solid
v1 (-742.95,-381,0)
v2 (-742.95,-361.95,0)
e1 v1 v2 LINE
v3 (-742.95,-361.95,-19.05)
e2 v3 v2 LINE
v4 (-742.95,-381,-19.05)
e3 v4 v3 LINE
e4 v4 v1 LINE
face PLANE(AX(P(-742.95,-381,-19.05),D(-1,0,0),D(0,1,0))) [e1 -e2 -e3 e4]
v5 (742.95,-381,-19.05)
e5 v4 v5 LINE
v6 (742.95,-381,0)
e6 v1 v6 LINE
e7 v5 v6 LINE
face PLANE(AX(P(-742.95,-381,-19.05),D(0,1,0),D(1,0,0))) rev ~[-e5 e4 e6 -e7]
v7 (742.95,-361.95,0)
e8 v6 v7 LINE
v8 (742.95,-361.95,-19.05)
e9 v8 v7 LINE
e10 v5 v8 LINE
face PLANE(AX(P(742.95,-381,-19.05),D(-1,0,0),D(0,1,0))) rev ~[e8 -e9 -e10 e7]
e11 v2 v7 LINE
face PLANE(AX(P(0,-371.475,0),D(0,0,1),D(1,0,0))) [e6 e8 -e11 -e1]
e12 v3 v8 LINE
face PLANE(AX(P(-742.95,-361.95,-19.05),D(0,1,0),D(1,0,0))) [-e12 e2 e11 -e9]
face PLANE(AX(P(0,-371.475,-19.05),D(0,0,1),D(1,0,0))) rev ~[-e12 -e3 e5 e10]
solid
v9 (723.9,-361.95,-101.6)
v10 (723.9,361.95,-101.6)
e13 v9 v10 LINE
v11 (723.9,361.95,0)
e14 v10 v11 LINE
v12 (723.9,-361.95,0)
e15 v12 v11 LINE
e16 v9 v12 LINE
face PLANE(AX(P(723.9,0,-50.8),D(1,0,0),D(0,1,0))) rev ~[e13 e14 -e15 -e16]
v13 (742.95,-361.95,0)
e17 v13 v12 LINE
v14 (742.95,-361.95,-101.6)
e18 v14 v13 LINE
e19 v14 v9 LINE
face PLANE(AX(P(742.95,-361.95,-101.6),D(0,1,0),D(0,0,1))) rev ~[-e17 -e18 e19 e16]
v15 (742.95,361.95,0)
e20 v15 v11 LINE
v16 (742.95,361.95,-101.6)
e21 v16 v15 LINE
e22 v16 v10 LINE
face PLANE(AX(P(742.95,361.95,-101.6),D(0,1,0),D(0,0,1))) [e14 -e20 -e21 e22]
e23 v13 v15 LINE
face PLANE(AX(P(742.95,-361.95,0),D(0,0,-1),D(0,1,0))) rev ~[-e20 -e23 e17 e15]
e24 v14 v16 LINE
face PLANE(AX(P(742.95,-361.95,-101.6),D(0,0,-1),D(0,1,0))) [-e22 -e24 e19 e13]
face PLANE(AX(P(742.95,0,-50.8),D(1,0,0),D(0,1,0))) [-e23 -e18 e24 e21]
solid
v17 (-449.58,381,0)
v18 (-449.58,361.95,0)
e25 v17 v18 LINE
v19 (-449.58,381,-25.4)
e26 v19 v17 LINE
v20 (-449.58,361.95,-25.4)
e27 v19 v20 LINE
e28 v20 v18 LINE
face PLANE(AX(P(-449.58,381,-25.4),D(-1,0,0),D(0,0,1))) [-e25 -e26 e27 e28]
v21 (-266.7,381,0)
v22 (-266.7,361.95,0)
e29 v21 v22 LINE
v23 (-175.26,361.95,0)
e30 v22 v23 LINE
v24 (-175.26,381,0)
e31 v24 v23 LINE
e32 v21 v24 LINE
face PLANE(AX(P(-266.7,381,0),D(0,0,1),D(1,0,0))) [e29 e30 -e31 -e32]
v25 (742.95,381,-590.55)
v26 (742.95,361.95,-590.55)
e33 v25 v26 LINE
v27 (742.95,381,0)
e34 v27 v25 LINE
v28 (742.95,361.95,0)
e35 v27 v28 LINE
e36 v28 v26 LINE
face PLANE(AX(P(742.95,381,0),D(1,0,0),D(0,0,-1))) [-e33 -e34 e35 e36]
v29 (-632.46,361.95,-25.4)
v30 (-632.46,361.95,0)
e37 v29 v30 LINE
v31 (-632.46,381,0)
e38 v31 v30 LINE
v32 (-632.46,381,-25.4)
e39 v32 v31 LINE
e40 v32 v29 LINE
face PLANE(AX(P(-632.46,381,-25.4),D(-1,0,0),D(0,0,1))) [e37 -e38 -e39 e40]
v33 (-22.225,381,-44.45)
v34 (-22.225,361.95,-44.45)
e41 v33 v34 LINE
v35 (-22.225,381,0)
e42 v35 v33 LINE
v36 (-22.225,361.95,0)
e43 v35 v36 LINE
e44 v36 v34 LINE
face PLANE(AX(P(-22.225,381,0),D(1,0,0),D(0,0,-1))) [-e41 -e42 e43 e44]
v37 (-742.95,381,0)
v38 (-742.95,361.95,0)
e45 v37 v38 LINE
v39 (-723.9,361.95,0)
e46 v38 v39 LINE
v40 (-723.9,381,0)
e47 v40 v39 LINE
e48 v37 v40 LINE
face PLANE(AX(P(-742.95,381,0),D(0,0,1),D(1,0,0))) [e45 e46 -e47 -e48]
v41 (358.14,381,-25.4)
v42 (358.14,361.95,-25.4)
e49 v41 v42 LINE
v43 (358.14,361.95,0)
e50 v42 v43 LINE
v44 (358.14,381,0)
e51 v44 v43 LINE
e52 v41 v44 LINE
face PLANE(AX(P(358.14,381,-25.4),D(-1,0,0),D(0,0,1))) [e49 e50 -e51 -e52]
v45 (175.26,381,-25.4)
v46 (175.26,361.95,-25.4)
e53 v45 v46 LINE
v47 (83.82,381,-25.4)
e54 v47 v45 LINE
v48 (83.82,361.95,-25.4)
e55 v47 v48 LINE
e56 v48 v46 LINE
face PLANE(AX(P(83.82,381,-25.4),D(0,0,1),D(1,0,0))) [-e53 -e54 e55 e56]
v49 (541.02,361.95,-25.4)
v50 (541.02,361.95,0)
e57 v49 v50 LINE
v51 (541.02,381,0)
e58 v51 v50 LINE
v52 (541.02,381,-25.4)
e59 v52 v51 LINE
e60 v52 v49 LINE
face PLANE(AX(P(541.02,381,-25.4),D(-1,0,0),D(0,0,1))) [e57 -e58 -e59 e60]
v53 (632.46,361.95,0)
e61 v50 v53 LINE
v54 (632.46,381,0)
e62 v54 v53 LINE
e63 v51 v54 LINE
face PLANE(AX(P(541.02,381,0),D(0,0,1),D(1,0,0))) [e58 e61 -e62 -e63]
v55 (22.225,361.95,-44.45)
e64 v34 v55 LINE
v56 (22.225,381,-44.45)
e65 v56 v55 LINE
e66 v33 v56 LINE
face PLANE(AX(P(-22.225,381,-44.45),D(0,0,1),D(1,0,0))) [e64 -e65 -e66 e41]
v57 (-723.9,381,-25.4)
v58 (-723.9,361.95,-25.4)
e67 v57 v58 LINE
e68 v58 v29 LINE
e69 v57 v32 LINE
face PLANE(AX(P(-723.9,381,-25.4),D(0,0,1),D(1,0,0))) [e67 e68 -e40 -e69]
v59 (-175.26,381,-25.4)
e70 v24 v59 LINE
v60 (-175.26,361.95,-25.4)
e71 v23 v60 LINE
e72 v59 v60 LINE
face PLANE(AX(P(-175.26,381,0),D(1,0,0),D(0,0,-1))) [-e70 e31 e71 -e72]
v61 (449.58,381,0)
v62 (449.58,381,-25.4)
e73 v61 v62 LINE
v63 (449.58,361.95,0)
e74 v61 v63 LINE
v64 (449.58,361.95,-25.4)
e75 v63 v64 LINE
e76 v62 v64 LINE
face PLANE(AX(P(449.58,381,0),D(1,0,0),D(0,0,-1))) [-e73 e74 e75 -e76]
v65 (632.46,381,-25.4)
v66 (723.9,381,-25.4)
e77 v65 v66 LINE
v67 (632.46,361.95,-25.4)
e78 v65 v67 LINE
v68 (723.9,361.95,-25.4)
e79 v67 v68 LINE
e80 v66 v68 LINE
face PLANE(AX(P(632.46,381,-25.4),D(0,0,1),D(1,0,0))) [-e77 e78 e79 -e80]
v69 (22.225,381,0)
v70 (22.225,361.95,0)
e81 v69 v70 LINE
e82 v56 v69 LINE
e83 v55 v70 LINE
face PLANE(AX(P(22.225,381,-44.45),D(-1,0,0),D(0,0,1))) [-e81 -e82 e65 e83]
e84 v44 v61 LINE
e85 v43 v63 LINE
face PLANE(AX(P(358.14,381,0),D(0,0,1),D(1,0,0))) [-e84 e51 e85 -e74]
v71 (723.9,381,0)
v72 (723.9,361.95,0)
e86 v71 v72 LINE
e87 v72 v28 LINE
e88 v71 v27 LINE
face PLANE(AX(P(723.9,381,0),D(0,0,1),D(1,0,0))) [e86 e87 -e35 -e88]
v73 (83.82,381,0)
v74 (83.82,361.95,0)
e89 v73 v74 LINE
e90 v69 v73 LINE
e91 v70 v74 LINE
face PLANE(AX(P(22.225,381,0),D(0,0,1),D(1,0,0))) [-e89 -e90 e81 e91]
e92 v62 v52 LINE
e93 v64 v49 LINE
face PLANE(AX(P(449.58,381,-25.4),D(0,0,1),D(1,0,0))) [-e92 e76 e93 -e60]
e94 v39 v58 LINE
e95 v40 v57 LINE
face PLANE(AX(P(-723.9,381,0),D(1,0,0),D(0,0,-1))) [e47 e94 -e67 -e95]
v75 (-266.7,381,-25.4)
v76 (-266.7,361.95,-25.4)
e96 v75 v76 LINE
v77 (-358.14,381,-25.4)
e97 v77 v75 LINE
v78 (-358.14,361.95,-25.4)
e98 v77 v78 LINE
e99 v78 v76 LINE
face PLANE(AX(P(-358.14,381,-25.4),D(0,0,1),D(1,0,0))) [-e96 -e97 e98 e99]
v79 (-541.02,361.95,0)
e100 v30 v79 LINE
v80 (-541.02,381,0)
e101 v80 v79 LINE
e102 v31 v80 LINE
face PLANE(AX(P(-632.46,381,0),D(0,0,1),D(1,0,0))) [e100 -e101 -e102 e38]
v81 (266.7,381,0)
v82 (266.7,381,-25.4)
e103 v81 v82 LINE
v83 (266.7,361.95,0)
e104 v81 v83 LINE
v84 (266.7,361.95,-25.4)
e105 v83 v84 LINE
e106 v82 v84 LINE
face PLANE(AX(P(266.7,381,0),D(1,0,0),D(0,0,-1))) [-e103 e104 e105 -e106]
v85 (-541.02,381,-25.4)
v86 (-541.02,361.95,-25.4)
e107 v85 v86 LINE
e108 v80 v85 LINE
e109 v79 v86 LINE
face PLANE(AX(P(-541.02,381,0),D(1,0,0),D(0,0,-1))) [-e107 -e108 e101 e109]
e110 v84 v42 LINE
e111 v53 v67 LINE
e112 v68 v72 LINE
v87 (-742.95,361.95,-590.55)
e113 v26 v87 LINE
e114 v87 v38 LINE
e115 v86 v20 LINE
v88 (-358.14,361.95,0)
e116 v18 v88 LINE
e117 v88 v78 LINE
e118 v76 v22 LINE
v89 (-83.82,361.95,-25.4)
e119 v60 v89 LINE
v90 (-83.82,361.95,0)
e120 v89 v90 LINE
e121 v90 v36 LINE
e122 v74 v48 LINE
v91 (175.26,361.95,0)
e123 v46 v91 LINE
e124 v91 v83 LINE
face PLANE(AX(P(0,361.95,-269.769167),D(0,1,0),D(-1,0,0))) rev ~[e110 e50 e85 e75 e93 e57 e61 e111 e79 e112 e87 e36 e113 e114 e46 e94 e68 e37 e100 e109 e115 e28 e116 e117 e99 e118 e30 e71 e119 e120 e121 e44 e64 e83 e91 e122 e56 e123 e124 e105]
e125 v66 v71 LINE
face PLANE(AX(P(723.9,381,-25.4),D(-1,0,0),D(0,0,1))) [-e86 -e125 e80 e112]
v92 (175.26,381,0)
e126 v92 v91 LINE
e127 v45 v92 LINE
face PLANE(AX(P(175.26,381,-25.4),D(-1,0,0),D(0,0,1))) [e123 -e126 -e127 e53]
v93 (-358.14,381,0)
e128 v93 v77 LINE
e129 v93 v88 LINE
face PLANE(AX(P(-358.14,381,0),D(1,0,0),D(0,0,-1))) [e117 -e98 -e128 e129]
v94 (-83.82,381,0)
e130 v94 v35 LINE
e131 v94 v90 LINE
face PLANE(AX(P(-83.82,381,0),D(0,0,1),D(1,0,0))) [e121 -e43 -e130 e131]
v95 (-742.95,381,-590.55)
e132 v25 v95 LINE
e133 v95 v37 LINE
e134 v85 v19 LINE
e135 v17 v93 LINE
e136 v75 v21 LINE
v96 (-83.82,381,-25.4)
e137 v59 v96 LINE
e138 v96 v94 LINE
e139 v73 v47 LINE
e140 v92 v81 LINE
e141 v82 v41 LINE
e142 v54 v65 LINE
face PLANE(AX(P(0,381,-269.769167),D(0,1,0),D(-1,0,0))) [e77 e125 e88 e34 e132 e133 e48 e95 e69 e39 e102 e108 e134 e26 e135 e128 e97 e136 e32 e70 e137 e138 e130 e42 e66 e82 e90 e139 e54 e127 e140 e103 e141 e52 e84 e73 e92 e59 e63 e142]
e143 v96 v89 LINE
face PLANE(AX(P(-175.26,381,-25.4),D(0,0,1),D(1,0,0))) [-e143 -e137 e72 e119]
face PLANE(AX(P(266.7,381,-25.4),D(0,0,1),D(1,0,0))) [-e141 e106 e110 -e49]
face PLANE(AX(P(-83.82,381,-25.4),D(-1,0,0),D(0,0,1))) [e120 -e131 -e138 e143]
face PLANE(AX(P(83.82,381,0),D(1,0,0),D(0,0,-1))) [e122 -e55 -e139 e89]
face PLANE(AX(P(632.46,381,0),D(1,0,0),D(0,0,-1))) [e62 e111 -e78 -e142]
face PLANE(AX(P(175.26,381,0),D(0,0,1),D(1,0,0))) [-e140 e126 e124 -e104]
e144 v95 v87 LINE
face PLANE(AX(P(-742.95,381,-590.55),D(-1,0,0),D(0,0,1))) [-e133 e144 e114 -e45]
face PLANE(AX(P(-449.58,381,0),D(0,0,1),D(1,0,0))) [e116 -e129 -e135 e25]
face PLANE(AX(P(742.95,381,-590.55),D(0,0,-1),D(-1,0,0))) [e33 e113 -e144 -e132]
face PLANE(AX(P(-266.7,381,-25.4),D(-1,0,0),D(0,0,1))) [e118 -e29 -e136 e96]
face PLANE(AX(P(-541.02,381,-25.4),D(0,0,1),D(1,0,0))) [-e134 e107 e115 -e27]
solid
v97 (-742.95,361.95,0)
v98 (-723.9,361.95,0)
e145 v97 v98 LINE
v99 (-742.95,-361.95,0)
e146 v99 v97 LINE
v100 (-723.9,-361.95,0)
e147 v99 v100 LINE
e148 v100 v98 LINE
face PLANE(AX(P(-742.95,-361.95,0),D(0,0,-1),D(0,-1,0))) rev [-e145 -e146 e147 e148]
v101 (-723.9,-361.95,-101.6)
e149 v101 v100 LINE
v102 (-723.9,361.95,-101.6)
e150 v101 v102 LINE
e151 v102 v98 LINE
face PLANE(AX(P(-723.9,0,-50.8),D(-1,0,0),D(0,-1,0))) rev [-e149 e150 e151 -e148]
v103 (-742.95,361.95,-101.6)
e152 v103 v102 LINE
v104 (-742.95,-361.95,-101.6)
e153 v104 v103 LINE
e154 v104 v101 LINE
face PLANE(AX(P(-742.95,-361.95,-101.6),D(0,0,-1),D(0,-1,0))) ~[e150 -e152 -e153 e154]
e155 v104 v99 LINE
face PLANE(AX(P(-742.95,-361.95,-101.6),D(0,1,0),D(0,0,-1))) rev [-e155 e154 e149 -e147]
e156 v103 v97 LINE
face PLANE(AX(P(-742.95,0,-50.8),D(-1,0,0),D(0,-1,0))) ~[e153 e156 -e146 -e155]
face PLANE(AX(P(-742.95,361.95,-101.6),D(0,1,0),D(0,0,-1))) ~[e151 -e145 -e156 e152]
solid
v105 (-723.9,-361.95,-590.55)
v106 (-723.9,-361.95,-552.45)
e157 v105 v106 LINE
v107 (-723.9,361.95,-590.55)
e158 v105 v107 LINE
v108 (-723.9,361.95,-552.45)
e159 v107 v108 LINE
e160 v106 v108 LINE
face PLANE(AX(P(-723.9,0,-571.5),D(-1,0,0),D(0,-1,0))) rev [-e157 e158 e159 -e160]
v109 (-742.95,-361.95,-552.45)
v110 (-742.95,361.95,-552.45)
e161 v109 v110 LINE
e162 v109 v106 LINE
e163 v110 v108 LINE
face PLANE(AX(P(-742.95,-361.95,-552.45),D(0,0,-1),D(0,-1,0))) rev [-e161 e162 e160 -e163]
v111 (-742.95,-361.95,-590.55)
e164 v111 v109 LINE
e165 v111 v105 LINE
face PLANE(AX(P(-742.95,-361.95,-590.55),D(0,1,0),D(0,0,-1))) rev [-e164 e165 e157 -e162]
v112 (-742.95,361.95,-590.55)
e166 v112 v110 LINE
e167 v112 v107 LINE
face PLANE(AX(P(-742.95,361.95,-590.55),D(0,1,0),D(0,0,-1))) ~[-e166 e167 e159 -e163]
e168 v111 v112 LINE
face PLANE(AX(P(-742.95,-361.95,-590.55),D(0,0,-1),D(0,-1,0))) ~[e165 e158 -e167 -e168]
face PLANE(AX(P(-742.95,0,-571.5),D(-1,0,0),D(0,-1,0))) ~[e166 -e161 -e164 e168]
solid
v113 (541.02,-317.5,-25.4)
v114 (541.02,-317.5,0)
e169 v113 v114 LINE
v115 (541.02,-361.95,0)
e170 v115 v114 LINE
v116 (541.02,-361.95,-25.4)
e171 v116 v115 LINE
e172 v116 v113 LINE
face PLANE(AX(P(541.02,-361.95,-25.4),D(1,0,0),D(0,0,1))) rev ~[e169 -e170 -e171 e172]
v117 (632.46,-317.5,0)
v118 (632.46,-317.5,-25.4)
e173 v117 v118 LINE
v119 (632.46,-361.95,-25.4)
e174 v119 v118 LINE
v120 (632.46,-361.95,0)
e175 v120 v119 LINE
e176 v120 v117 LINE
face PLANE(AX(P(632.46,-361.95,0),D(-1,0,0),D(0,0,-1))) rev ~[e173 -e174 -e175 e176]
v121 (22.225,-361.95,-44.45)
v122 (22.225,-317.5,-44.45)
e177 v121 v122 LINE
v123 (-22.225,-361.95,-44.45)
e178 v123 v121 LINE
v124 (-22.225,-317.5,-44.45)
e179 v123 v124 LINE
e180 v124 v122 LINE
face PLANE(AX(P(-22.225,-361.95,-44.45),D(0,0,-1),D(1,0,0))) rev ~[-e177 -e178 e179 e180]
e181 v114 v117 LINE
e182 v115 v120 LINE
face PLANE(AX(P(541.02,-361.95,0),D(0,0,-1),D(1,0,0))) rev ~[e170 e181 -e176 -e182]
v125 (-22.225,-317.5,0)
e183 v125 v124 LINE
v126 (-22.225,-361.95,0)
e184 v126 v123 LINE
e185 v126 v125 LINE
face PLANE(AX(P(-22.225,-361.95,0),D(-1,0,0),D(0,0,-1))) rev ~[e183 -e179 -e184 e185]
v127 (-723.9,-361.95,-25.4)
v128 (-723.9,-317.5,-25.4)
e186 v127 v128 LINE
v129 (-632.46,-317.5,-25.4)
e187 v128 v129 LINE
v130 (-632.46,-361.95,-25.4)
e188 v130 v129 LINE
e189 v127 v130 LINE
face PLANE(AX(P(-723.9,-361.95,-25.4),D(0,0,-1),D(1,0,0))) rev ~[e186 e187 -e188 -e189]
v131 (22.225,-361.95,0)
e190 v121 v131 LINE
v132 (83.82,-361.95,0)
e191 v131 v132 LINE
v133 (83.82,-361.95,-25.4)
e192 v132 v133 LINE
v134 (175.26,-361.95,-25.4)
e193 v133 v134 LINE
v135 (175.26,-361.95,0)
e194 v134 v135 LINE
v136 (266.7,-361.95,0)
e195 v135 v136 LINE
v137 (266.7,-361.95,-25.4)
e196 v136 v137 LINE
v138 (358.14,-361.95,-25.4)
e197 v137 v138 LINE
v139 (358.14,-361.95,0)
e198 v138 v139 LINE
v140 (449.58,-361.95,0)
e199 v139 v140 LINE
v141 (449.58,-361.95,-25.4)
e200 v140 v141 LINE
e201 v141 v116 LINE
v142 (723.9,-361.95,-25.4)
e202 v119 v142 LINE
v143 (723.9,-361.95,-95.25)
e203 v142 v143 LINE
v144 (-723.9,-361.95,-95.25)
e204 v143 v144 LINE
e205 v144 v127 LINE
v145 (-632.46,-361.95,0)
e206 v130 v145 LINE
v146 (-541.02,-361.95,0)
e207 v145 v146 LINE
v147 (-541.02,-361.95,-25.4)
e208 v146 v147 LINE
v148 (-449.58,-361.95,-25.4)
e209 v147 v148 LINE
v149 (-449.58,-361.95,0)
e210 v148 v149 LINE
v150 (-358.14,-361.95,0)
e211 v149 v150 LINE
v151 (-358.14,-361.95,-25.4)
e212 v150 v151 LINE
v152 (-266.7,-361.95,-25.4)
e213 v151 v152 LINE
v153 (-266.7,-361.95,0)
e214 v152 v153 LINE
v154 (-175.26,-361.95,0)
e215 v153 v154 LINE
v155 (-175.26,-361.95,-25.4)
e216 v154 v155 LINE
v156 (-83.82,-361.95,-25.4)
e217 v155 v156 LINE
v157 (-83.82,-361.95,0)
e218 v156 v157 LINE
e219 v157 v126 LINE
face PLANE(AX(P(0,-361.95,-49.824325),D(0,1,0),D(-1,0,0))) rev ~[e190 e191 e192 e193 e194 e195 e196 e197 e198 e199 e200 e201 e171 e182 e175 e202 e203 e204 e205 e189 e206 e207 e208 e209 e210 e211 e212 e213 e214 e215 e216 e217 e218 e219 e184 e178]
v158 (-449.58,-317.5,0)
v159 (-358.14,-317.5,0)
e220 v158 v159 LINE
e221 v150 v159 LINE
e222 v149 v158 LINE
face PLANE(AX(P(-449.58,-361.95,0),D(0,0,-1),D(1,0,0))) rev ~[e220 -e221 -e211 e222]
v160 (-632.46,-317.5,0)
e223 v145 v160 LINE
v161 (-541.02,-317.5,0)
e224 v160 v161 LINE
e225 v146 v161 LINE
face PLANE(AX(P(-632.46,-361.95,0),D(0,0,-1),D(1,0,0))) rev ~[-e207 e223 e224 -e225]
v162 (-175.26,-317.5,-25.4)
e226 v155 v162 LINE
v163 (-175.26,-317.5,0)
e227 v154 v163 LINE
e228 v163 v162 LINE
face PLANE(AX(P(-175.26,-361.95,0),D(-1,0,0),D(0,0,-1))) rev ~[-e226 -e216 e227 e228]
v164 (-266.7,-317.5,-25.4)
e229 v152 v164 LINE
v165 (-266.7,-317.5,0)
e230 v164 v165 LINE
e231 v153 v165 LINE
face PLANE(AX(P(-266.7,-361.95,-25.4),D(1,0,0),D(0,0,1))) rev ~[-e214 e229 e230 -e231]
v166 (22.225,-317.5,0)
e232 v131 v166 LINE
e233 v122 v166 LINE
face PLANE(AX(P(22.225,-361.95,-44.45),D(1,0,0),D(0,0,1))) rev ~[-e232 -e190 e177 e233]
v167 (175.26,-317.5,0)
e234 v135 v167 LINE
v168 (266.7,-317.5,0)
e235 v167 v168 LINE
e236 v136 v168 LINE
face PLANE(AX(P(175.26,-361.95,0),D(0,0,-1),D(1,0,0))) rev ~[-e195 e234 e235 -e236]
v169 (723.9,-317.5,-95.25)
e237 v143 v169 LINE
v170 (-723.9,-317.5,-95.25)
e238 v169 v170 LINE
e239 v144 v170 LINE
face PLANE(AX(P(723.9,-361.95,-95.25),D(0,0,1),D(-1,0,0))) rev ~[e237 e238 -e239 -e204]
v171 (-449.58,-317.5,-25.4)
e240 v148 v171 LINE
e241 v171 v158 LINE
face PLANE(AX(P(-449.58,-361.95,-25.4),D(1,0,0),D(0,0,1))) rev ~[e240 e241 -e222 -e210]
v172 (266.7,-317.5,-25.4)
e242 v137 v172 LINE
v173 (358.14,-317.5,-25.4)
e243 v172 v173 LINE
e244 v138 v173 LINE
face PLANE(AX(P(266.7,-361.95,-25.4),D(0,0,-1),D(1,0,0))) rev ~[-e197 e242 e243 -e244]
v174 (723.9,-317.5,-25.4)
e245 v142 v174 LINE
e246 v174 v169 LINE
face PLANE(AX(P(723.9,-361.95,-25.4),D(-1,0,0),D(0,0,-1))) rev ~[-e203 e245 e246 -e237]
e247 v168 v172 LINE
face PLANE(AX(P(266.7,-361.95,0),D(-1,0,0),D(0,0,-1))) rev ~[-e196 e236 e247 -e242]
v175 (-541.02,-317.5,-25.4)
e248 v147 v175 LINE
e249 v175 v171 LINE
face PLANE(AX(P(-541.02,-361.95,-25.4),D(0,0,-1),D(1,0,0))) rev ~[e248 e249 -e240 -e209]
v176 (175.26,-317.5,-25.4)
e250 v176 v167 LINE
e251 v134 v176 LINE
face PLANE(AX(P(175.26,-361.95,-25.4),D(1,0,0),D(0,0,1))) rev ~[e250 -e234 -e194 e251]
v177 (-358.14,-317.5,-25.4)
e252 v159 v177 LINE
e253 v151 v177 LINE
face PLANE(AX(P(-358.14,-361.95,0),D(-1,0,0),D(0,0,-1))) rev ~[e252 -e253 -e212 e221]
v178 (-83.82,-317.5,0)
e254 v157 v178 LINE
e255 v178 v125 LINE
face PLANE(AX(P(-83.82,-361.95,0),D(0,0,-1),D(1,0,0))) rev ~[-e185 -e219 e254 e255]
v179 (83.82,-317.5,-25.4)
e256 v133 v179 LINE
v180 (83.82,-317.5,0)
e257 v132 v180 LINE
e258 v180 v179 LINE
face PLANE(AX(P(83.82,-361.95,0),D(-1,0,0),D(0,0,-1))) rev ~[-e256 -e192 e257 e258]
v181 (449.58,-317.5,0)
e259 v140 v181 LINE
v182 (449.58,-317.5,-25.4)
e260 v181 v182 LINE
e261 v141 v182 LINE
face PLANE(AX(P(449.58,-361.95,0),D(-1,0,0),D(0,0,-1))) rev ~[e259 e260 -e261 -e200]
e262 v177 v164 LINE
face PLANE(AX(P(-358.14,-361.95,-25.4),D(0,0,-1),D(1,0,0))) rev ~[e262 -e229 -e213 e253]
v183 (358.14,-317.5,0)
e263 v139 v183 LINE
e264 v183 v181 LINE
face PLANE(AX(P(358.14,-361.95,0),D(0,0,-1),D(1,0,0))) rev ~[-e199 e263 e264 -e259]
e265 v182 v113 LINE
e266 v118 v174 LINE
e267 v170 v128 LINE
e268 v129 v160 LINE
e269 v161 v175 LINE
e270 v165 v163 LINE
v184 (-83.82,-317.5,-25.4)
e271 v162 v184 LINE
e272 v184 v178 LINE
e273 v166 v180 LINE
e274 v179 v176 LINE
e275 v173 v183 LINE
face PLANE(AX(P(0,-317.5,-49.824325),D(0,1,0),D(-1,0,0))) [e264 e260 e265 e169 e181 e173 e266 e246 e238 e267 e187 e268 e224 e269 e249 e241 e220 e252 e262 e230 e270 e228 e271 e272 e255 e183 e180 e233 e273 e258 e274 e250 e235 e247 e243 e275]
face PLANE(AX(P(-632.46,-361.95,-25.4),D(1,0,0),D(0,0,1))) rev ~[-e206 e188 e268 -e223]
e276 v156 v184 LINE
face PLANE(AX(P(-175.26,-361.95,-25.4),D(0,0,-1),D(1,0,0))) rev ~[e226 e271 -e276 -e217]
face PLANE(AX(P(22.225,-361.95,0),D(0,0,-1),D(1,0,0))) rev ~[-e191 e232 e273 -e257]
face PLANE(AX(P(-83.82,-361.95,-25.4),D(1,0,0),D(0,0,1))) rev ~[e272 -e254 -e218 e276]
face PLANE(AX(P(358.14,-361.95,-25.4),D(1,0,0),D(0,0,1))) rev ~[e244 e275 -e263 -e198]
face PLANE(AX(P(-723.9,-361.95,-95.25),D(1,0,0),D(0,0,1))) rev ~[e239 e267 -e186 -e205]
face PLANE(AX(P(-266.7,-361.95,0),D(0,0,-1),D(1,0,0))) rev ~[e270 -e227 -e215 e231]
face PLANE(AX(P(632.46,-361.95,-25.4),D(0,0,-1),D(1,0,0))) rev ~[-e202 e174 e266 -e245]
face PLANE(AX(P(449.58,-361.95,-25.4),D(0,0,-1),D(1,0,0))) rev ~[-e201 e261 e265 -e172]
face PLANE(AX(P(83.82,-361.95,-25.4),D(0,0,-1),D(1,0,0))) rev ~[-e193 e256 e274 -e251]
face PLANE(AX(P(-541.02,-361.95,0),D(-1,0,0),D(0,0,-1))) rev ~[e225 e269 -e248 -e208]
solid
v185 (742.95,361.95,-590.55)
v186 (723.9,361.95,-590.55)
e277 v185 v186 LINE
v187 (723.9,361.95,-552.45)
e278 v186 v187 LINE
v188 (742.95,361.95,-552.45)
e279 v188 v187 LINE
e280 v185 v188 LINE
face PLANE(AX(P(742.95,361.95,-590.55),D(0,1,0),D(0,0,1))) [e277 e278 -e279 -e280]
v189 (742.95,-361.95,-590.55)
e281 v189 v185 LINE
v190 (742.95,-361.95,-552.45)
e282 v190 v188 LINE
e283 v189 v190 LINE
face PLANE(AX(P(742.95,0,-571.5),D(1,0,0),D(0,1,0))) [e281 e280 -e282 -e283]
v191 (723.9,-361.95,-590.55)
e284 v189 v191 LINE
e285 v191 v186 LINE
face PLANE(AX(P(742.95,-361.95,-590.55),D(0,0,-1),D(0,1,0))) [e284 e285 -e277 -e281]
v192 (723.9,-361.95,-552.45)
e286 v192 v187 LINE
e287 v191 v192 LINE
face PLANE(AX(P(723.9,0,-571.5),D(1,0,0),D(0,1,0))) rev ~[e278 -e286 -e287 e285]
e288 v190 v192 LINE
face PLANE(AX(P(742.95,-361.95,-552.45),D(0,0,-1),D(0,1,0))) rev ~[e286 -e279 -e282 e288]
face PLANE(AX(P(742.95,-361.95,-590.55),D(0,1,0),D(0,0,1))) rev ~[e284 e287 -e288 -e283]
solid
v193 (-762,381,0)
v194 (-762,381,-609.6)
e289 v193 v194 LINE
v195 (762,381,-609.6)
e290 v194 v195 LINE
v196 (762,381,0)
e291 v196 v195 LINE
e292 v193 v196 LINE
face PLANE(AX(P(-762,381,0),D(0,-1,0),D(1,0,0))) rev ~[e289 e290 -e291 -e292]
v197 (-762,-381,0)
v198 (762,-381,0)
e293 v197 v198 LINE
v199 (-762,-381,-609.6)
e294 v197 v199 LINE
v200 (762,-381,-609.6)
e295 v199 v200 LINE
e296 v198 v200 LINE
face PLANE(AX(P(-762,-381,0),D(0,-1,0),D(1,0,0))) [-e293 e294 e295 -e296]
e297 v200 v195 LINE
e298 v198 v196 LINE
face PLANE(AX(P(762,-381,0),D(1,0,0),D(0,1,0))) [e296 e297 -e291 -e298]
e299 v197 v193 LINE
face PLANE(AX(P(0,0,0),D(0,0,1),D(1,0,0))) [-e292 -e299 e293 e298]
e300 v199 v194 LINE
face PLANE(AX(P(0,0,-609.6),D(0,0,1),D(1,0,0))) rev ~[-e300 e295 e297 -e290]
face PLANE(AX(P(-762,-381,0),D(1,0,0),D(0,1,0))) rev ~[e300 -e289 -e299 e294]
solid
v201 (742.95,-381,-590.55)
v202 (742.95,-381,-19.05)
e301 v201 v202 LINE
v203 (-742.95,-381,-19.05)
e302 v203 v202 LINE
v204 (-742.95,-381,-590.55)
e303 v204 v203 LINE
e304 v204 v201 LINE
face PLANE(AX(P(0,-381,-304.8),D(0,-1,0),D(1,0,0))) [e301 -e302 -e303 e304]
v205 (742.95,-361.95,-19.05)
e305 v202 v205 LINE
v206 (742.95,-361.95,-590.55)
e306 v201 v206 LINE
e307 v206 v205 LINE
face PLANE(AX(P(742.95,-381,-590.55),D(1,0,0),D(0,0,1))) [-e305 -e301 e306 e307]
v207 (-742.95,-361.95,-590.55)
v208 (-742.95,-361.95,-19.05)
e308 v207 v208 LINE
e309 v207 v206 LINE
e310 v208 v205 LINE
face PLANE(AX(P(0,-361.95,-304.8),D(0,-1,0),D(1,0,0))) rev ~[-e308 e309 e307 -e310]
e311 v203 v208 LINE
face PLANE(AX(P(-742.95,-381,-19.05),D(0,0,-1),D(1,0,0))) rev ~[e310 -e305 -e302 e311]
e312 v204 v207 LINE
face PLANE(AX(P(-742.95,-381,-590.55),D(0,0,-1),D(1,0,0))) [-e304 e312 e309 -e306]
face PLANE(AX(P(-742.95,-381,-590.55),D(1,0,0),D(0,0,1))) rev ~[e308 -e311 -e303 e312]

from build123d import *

# Parameters (mm, degrees)
F0_W      = 1524
F0_H      = 762
F1_DEPTH  = 609.6
F2_W      = 1485.9
F2_H      = 571.5
F3_DEPTH  = 19.05
F5_DEPTH  = 44.45
F7_DEPTH  = 19.05
F8_W      = 723.9
F8_H      = 101.6
F8_H_2    = 38.1
F9_DEPTH  = 19.05
F11_W     = 1485.9
F11_H     = 19.05
F12_DEPTH = 19.05


with BuildPart() as f1:
    # F0 (on Top) → F1 (new body)
    with BuildSketch(Plane.XY):
        Rectangle(F0_W, F0_H)
    extrude(amount=-F1_DEPTH)


with BuildPart() as f3:
    # F2 (on face) → F3 (new body)
    with BuildSketch(Plane.XZ.offset(381)):
        with Locations((0, -304.8)):
            Rectangle(F2_W, F2_H)
    extrude(amount=-F3_DEPTH)


with BuildPart() as f5:
    # F4 (on face) → F5 (new body)
    with BuildSketch(Plane(origin=(0, -361.95, 0), x_dir=(-1, 0, 0), z_dir=(0, 1, 0))):
        Polygon((-723.9, -25.4), (-723.9, -95.25), (723.9, -95.25), (723.9, -25.4), (632.46, -25.4), (632.46, 0), (541.02, 0), (541.02, -25.4), (449.58, -25.4), (449.58, 0), (358.14, 0), (358.14, -25.4), (266.7, -25.4), (266.7, 0), (175.26, 0), (175.26, -25.4), (83.82, -25.4), (83.82, 0), (22.225, 0), (22.225, -44.45), (-22.225, -44.45), (-22.225, 0), (-83.82, 0), (-83.82, -25.4), (-175.26, -25.4), (-175.26, 0), (-266.7, 0), (-266.7, -25.4), (-358.14, -25.4), (-358.14, 0), (-449.58, 0), (-449.58, -25.4), (-541.02, -25.4), (-541.02, 0), (-632.46, 0), (-632.46, -25.4), align=None)
    extrude(amount=F5_DEPTH)


with BuildPart() as f7:
    # F6 (on face) → F7 (new body)
    with BuildSketch(Plane(origin=(0, 381, 0), x_dir=(-1, 0, 0), z_dir=(0, 1, 0))):
        Polygon((-742.95, 0), (-742.95, -590.55), (742.95, -590.55), (742.95, 0), (723.9, 0), (723.9, -25.4), (632.46, -25.4), (632.46, 0), (541.02, 0), (541.02, -25.4), (449.58, -25.4), (449.58, 0), (358.14, 0), (358.14, -25.4), (266.7, -25.4), (266.7, 0), (175.26, 0), (175.26, -25.4), (83.82, -25.4), (83.82, 0), (22.225, 0), (22.225, -44.45), (-22.225, -44.45), (-22.225, 0), (-83.82, 0), (-83.82, -25.4), (-175.26, -25.4), (-175.26, 0), (-266.7, 0), (-266.7, -25.4), (-358.14, -25.4), (-358.14, 0), (-449.58, 0), (-449.58, -25.4), (-541.02, -25.4), (-541.02, 0), (-632.46, 0), (-632.46, -25.4), (-723.9, -25.4), (-723.9, 0), align=None)
    extrude(amount=-F7_DEPTH)


with BuildPart() as f9:
    # F8 (on face) → F9 (new body)
    with BuildSketch(Plane.YZ.offset(742.95)):
        with Locations((0, -50.8)):
            Rectangle(F8_W, F8_H)
        with Locations((0, -571.5)):
            Rectangle(F8_W, F8_H_2)
    extrude(amount=-F9_DEPTH)


with BuildPart() as f10_1:
    # F10: instance of F9
    add(f9.part.mirror(Plane.YZ))


with BuildPart() as f12:
    # F11 (on face) → F12 (new body)
    with BuildSketch(Plane.XY.offset(-19.05)):
        with Locations((0, -371.475)):
            Rectangle(F11_W, F11_H)
    extrude(amount=F12_DEPTH)


solid = Compound([f1.part, f3.part, f5.part, f7.part, f9.part, f10_1.part, f12.part])
